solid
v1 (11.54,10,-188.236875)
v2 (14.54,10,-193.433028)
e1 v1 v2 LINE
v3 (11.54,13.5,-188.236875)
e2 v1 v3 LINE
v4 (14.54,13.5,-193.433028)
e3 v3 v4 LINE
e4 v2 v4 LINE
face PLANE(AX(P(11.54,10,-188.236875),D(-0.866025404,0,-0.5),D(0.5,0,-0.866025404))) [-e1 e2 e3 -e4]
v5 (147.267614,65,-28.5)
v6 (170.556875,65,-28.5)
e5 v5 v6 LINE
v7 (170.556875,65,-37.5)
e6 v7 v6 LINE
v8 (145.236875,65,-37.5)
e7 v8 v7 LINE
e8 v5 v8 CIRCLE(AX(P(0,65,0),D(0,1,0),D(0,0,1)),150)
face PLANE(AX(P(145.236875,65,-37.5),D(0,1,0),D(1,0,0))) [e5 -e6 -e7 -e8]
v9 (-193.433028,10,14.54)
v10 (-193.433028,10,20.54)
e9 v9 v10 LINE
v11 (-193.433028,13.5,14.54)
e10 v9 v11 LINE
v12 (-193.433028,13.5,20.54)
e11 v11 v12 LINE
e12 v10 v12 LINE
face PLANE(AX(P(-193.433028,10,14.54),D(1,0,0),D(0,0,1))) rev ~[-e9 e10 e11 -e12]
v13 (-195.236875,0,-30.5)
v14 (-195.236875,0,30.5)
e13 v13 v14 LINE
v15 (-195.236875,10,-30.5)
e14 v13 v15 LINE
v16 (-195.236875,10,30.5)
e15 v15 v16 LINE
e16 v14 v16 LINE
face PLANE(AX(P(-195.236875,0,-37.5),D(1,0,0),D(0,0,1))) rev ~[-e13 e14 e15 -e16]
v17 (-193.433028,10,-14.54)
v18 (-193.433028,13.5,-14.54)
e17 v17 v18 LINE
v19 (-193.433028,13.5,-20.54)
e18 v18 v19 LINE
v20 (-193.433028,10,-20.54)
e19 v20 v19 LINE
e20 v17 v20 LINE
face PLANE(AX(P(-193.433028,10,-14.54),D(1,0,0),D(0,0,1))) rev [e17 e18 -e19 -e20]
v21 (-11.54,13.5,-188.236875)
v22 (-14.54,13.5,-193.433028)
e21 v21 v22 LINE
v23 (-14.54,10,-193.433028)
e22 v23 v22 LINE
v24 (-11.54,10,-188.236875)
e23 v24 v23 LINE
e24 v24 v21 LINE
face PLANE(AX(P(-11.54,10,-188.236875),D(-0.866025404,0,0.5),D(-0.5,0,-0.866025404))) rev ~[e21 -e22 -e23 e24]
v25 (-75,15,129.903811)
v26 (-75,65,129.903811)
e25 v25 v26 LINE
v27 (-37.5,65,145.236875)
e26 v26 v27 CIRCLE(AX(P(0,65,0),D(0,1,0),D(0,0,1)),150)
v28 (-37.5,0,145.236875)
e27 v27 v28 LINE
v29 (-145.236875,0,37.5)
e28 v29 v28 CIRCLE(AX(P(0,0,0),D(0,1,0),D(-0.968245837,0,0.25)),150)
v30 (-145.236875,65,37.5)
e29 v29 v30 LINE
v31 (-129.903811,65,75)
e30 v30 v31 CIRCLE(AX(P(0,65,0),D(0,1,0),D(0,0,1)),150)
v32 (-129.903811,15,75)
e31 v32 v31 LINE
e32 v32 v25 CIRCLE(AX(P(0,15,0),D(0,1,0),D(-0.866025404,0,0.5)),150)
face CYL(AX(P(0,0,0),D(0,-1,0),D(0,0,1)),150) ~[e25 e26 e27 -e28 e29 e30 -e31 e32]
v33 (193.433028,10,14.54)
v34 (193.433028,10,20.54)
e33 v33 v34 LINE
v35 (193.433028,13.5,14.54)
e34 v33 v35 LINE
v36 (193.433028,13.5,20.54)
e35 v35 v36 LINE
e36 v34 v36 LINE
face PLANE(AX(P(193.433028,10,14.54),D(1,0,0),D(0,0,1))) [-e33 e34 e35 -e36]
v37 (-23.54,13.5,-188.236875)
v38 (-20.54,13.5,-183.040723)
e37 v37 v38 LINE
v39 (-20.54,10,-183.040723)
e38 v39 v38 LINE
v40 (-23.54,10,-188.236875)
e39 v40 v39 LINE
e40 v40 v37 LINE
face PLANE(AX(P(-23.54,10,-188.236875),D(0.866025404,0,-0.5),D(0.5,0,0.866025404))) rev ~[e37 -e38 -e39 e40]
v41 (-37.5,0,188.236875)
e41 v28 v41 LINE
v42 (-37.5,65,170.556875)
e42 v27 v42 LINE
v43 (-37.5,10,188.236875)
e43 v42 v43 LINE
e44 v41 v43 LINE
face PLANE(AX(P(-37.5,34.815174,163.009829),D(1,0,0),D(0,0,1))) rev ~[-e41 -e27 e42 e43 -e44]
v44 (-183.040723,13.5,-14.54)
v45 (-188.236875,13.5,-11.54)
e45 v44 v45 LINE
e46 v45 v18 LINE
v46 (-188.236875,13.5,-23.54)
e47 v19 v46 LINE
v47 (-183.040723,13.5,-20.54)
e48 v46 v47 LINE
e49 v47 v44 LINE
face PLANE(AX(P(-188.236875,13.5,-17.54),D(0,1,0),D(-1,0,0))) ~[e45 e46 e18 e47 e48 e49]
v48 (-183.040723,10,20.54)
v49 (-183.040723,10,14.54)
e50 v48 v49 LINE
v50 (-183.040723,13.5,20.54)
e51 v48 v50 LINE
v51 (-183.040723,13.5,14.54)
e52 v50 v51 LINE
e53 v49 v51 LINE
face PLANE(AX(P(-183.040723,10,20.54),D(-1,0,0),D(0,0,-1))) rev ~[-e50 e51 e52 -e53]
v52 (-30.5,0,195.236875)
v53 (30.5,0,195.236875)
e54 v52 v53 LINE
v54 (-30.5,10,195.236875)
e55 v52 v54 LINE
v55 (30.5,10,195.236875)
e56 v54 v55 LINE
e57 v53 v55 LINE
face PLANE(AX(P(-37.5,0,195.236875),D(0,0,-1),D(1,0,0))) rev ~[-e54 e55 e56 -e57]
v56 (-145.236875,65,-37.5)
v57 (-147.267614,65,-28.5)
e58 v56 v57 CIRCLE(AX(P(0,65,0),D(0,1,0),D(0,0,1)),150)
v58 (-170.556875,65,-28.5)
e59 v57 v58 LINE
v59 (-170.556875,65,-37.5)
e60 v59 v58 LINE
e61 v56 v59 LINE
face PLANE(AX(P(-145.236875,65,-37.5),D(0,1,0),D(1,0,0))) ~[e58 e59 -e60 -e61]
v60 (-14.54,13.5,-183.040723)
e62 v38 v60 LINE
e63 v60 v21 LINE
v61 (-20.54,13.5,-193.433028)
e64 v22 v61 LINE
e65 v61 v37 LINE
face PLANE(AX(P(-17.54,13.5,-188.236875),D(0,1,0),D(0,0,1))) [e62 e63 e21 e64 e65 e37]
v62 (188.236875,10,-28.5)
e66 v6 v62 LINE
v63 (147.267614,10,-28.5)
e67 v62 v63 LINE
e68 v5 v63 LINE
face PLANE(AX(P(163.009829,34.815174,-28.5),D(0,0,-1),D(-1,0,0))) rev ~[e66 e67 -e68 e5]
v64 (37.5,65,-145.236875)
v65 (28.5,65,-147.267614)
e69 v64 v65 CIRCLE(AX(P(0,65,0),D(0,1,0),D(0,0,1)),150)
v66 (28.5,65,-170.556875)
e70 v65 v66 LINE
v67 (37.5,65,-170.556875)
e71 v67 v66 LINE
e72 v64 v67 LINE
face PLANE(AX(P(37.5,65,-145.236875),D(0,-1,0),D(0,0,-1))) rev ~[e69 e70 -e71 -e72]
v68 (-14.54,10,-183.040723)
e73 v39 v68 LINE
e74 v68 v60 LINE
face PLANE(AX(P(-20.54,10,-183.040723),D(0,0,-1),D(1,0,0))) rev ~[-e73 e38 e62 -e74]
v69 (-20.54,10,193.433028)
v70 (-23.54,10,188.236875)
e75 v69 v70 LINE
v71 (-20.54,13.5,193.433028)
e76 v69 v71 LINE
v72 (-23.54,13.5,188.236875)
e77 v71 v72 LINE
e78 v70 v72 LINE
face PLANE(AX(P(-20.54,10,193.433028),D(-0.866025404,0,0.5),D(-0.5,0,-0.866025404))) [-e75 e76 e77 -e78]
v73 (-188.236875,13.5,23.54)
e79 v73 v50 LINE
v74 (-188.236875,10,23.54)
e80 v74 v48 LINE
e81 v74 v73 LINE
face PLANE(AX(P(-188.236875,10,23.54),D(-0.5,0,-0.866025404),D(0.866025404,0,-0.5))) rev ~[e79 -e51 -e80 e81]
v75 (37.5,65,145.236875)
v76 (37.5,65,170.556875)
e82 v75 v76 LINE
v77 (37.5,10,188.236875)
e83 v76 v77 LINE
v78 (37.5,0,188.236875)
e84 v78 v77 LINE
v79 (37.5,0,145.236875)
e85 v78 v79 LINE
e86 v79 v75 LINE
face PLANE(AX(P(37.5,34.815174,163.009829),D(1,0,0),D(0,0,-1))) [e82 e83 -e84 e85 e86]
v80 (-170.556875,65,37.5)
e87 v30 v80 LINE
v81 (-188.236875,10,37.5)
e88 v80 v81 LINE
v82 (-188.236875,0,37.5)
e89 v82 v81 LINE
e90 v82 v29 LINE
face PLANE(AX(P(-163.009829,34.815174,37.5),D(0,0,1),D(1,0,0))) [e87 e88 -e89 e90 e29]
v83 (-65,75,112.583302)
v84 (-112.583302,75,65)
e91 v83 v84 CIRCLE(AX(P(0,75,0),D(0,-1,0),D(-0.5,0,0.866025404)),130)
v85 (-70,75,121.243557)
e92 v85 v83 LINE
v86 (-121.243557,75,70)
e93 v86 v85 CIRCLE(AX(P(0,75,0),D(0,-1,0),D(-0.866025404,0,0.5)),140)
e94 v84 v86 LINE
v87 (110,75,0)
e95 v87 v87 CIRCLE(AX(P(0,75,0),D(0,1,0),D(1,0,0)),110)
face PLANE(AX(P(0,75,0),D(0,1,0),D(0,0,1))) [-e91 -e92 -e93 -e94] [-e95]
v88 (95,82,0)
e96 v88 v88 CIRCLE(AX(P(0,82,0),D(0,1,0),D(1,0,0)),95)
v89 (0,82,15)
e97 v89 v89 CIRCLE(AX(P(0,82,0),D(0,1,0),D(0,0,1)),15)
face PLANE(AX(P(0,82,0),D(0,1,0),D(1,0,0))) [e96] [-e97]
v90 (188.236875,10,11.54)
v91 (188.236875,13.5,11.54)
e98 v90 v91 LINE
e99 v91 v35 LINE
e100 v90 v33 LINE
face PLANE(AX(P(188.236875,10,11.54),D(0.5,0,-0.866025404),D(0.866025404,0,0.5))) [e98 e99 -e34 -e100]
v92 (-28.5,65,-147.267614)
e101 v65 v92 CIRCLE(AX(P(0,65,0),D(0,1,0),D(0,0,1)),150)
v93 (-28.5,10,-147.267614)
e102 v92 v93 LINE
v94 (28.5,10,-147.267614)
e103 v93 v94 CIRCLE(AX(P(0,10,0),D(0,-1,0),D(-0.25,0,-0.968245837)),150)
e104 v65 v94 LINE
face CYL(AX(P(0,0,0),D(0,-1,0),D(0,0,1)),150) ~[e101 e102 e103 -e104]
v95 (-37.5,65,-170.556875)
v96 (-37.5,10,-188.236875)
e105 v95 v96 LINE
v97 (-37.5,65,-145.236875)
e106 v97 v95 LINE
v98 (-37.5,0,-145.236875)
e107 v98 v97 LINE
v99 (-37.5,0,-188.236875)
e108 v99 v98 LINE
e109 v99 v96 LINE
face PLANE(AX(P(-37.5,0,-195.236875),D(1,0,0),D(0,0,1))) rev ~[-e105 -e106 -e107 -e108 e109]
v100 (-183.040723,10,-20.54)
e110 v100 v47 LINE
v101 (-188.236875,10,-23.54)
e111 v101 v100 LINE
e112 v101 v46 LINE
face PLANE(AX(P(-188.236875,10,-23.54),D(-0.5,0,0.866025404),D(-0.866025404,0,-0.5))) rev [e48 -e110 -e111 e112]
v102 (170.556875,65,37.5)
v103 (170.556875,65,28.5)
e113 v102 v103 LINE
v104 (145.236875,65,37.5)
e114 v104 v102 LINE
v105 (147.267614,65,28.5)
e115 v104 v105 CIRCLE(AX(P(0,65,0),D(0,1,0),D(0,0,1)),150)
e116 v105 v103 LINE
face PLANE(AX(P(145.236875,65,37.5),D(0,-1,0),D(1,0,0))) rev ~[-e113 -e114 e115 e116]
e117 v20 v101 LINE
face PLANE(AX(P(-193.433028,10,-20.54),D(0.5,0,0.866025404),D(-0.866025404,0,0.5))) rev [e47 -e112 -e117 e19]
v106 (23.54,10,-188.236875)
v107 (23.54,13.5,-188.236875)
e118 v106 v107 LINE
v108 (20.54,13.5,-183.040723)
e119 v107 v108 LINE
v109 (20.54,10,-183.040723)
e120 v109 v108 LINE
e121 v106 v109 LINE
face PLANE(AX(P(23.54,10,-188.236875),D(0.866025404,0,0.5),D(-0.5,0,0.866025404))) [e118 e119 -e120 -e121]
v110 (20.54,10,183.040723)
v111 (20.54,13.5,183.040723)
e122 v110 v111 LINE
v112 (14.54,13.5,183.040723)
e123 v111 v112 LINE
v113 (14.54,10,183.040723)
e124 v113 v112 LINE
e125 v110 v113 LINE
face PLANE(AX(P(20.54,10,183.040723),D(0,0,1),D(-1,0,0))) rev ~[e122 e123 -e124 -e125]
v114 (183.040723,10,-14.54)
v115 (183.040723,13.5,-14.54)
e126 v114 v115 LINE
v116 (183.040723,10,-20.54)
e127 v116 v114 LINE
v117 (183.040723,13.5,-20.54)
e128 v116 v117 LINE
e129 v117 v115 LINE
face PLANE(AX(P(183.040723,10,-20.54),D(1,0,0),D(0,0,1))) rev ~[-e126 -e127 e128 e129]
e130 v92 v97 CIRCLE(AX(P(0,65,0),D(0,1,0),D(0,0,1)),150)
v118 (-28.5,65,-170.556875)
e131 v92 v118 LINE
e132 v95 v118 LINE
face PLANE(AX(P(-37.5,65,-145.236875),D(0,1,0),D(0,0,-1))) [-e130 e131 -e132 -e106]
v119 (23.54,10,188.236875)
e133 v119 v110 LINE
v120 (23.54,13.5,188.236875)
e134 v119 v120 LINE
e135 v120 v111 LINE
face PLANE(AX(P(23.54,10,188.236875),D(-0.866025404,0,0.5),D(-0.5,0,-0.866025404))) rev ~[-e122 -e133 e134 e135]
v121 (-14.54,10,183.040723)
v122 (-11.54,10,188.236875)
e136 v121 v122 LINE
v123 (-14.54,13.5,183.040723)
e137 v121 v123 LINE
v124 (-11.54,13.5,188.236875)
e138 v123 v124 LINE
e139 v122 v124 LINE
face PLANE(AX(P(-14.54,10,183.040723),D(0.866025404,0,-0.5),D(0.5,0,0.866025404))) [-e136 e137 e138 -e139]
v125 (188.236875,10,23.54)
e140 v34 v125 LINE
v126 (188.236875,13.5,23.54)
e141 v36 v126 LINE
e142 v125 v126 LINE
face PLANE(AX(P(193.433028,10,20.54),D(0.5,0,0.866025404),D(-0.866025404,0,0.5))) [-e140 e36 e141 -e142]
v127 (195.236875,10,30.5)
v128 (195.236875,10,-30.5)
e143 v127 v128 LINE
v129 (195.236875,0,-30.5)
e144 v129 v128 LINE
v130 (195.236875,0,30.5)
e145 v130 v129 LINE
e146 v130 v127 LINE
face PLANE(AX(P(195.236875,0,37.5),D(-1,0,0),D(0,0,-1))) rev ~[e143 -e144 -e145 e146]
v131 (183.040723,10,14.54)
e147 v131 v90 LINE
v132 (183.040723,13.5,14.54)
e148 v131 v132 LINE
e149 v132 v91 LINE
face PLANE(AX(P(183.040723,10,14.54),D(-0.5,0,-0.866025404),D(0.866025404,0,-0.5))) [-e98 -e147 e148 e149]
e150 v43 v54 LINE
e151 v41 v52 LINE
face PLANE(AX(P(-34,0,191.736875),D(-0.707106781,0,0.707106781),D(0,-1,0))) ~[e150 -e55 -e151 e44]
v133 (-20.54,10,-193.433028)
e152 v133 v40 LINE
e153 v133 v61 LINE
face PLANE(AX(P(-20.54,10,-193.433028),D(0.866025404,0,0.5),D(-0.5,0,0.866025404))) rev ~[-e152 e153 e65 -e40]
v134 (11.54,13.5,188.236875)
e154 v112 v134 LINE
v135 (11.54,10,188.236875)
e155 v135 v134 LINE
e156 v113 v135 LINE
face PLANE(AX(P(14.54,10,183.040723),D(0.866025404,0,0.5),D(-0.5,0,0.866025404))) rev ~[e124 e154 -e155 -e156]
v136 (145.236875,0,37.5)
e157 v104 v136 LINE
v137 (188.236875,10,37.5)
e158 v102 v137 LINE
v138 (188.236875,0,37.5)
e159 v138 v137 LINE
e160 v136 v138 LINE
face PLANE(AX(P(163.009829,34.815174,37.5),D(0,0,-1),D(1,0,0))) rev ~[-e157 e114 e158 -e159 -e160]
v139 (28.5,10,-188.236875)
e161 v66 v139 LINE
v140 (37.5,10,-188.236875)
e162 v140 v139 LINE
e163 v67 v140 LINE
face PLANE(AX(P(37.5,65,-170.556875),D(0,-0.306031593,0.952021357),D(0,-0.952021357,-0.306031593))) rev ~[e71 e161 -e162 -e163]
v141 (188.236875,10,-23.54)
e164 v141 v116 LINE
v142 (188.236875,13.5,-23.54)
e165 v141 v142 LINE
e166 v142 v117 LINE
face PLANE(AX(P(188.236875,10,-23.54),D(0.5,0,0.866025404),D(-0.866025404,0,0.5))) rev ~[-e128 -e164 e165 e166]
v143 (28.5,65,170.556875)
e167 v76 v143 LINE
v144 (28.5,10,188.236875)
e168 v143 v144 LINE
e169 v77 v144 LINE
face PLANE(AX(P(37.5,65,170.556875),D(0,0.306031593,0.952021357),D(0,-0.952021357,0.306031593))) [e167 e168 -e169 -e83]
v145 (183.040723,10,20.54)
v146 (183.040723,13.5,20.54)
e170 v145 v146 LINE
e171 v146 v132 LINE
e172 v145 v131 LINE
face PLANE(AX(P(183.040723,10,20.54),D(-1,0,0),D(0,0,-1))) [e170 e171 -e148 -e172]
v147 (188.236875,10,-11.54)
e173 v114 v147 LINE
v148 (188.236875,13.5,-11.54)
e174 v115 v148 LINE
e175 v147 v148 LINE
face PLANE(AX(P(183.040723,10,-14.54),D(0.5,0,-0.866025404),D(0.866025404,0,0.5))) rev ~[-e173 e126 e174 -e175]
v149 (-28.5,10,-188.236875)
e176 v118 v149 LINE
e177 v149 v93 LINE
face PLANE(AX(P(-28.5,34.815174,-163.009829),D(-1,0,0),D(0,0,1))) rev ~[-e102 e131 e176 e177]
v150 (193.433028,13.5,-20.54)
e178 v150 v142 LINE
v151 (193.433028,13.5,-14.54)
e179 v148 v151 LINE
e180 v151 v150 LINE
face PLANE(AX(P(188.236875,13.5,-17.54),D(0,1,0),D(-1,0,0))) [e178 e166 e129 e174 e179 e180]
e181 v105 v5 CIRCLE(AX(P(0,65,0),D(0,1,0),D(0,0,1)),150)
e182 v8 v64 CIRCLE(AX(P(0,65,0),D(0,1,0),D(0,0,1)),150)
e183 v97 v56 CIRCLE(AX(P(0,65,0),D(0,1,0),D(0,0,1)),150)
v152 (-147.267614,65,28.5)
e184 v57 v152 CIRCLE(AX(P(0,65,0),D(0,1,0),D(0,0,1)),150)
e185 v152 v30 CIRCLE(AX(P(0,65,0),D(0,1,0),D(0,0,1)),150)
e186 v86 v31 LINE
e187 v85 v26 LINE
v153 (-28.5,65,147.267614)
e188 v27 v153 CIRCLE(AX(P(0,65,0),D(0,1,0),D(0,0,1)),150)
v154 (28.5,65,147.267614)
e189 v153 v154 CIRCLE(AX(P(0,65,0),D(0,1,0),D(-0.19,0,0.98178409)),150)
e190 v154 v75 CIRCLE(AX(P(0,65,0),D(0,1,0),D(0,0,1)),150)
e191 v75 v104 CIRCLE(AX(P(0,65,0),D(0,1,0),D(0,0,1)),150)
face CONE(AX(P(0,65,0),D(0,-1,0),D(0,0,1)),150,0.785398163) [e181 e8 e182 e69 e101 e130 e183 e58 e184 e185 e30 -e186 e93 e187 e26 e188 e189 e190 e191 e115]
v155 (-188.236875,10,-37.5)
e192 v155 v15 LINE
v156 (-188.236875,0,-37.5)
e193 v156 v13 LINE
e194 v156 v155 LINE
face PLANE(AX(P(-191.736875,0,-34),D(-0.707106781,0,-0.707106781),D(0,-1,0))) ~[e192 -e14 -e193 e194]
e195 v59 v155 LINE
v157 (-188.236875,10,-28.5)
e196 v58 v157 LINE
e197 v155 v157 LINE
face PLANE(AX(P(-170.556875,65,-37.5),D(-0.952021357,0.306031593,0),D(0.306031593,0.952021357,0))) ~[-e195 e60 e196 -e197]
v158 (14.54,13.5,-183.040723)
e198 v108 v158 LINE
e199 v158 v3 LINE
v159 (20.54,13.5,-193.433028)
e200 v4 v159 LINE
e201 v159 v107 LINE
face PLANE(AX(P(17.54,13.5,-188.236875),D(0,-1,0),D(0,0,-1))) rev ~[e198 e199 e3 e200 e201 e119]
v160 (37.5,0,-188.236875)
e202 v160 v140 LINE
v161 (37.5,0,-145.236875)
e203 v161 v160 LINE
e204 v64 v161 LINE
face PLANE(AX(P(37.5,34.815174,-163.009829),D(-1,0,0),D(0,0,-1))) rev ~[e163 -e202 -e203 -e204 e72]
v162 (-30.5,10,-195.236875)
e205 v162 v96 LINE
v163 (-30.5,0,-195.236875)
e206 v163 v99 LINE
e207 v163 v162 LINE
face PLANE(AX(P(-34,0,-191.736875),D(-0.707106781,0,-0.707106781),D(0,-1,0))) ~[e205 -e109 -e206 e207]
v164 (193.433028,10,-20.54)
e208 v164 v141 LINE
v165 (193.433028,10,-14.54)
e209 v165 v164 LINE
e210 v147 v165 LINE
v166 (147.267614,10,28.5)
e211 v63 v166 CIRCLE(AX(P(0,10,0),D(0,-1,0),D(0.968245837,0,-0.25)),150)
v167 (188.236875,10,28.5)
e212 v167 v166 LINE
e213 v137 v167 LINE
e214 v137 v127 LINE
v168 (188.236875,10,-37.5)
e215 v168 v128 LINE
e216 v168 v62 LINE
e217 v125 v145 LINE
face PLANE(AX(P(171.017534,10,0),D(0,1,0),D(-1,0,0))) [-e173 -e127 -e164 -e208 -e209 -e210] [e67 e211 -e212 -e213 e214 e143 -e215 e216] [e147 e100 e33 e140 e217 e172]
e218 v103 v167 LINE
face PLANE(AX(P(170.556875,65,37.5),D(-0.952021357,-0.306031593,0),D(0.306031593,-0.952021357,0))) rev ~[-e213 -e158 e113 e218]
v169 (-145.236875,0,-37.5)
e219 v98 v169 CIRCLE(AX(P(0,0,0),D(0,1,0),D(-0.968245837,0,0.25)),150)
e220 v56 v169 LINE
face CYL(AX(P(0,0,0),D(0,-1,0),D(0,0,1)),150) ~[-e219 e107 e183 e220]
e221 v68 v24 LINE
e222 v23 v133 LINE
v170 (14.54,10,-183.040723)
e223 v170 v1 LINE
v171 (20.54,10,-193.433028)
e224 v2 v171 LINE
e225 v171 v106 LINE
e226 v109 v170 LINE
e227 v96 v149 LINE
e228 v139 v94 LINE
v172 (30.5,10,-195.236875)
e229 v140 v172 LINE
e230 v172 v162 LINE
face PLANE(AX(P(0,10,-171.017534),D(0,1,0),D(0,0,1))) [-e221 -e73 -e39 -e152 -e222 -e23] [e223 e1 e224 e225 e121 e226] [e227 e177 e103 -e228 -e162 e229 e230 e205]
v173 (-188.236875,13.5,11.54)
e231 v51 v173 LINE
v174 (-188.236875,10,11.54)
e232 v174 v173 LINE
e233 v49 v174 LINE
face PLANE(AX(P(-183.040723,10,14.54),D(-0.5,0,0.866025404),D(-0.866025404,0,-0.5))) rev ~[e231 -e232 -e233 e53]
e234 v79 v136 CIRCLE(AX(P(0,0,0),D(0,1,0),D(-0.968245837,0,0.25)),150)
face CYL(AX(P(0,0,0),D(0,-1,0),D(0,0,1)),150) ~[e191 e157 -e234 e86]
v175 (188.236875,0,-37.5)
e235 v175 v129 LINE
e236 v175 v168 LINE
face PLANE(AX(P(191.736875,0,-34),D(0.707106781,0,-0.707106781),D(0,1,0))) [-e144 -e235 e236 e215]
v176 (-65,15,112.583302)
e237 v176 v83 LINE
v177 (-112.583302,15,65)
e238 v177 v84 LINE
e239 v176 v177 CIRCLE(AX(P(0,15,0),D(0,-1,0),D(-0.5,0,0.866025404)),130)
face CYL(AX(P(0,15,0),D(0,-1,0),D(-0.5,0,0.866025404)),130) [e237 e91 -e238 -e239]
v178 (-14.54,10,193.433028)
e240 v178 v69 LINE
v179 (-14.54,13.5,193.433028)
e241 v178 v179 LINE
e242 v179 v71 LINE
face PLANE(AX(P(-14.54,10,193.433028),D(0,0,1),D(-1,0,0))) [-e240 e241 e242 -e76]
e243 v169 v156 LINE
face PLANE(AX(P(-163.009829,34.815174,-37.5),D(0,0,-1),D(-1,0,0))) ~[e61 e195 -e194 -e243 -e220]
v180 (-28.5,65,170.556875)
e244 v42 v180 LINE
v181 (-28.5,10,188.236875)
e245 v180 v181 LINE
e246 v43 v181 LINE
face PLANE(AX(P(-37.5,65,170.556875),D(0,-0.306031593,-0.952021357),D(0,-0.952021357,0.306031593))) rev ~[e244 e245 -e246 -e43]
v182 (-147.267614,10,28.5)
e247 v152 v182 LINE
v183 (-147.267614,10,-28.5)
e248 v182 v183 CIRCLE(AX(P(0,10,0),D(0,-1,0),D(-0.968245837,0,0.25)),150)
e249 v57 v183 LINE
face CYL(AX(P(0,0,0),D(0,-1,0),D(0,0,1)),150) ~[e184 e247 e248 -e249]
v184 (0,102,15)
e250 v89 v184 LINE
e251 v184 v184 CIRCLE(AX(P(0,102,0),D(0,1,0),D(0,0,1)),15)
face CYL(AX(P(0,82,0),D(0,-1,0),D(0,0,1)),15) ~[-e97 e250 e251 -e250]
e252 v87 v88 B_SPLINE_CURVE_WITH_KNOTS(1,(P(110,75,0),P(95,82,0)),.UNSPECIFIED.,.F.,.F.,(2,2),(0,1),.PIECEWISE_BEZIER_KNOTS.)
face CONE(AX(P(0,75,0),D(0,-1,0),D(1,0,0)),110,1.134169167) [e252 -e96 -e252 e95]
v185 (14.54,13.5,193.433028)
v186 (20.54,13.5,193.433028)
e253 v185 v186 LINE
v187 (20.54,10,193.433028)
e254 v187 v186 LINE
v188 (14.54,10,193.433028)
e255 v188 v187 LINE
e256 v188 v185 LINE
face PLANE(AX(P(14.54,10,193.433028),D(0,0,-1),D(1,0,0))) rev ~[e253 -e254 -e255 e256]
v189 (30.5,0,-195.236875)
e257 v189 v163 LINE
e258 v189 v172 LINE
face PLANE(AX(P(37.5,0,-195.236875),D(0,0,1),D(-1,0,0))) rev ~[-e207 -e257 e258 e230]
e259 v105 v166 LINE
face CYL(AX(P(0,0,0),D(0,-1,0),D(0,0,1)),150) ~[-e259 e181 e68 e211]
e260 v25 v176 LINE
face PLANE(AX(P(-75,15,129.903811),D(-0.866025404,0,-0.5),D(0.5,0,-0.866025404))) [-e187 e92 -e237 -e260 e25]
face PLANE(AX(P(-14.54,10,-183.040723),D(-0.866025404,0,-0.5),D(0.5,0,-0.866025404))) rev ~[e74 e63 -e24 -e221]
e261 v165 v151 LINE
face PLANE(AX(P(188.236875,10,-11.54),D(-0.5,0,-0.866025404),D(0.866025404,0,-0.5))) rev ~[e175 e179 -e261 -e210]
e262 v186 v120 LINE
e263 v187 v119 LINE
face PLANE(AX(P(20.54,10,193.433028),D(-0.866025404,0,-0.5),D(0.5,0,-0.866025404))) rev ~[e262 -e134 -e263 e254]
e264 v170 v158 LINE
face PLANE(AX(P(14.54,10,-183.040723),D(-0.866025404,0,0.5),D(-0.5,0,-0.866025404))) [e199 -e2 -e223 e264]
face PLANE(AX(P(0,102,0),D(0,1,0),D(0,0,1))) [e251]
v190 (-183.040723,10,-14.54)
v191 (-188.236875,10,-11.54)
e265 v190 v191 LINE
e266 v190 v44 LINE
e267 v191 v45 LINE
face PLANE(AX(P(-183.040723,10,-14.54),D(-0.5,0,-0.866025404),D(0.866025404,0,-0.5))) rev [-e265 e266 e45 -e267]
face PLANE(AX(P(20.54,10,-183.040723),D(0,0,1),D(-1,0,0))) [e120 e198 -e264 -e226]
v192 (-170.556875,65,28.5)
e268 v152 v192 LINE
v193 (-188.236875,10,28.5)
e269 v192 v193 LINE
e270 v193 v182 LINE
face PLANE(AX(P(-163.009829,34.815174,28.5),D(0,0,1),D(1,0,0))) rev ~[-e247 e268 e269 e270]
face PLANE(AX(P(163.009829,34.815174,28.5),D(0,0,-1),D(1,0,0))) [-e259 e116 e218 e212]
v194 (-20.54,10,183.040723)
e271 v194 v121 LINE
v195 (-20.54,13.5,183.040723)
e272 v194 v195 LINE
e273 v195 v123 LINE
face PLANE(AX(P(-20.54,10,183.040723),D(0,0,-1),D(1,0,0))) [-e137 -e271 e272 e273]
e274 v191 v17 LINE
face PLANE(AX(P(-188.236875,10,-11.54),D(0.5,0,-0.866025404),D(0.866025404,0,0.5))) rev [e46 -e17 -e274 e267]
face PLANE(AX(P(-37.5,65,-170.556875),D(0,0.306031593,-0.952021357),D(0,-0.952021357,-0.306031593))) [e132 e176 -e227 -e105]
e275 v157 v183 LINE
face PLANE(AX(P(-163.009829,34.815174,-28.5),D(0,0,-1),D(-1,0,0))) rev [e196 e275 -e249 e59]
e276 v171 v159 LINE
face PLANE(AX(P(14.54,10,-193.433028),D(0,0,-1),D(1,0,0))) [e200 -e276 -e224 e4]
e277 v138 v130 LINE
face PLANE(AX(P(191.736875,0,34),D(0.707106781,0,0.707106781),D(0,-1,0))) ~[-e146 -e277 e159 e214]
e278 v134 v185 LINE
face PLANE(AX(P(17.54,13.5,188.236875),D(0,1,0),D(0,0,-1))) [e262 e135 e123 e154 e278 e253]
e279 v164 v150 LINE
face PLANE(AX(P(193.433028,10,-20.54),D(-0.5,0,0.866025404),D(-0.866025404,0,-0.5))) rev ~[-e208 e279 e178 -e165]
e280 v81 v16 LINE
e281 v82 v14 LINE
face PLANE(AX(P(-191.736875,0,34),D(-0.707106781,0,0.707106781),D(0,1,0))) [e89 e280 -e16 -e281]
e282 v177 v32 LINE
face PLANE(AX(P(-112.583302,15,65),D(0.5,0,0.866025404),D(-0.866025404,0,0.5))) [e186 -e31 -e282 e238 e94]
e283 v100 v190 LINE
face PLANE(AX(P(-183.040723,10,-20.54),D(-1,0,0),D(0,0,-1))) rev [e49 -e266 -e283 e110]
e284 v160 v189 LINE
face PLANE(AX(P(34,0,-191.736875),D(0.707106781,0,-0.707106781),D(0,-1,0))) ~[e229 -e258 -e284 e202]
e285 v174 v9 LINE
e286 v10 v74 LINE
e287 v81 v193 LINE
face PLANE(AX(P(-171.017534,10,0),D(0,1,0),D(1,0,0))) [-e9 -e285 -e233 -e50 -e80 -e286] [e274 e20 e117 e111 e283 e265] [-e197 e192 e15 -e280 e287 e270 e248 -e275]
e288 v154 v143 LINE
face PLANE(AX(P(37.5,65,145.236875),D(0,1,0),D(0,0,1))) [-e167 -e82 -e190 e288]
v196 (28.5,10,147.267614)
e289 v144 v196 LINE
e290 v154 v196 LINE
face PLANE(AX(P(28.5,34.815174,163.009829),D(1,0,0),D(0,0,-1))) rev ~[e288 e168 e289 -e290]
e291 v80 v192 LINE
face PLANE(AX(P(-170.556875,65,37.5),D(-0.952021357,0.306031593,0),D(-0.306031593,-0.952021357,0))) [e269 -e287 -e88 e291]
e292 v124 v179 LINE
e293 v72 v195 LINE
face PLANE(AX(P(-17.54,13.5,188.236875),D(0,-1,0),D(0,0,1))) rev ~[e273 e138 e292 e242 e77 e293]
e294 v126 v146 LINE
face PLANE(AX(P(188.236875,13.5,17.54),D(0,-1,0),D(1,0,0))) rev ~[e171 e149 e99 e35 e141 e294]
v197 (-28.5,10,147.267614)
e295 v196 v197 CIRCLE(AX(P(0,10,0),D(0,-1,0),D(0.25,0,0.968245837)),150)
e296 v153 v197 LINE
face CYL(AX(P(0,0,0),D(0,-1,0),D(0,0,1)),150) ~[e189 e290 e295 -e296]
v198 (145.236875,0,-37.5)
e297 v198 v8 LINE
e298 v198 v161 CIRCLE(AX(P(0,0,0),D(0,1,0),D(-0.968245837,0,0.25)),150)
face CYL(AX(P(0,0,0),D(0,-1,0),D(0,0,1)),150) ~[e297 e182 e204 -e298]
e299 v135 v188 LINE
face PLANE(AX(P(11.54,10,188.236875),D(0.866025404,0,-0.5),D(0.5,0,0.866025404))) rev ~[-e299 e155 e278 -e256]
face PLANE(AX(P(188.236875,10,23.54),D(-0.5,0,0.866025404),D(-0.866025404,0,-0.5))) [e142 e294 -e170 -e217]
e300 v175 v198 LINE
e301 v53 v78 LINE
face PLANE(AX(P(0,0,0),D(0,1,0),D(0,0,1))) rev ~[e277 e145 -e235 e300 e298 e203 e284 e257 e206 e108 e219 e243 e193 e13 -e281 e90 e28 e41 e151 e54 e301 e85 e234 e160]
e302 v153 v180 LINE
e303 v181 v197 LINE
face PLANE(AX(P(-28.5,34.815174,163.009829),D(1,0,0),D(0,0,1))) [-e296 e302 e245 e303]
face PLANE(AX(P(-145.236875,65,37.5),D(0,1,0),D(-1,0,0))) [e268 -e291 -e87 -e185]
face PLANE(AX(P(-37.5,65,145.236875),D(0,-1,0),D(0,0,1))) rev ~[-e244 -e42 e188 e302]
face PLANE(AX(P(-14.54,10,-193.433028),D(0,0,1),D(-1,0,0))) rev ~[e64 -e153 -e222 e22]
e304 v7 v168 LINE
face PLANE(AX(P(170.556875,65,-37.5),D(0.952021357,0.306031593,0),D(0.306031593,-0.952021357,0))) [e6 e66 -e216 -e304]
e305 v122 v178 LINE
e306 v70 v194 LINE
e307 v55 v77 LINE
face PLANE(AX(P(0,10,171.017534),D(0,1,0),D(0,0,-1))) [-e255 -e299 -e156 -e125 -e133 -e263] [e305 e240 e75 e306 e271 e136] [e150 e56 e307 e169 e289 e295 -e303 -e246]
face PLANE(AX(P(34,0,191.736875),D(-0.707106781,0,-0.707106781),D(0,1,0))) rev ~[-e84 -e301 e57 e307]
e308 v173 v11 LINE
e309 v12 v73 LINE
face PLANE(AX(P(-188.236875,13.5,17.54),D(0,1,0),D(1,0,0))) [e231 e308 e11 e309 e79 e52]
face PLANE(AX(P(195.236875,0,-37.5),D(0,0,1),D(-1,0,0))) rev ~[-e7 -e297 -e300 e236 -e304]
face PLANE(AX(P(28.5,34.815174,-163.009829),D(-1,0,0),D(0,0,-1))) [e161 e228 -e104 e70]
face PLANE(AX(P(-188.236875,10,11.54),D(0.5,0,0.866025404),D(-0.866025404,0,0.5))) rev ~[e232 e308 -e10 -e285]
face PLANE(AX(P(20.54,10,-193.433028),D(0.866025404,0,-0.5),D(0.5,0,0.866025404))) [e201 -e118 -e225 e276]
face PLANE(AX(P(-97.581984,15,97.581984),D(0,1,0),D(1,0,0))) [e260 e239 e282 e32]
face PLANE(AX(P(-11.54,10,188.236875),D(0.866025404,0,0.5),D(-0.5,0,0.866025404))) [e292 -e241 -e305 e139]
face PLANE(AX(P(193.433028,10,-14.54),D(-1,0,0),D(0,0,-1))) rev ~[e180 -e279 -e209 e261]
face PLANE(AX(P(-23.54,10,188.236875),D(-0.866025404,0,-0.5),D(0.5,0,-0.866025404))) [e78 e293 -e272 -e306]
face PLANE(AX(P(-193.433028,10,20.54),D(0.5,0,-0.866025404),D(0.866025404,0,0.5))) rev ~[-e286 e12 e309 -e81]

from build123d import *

# Parameters (mm, degrees)
SKETCH1_R                    = 150
BOSS_EXTRUDE1_DEPTH          = 75
CHAMFER1_SIZE                = 10
BOSS_EXTRUDE2_DEPTH          = 10
CHAMFER2_SIZE                = 7
BOSS_EXTRUDE3_DEPTH          = 9
BOSS_EXTRUDE4_DEPTH          = 3.5
CIRPATTERN1_COUNT            = 4
CIRPATTERN1_COPY_1_DEPTH     = 9
CIRPATTERN1_COPY_2_DEPTH     = 9
CIRPATTERN1_COPY_3_DEPTH     = 9
CIRPATTERN1_COPY_4_DEPTH     = 3.5
CIRPATTERN1_COPY_5_DEPTH     = 3.5
CIRPATTERN1_COPY_6_DEPTH     = 3.5
CHAMFER2_OF_CIRPATTERN1_SIZE = 7
CUT_EXTRUDE1_START           = -60
CUT_EXTRUDE1_DEPTH           = 60
SKETCH7_R                    = 110
SKETCH8_R                    = 95
SKETCH9_R                    = 15
BOSS_EXTRUDE5_DEPTH          = 20


with BuildPart() as part:
    # Sketch1 → Boss-Extrude1 (new body)
    with BuildSketch(Plane(origin=(0, 0, 0), x_dir=(1, 0, 0), z_dir=(0, 1, 0))):
        with Locations(Location((0, 0, 0), (0, 0, 270))):
            Circle(SKETCH1_R)
    extrude(amount=BOSS_EXTRUDE1_DEPTH)

    # Chamfer1
    chamfer1_edges = [part.edges().sort_by_distance(p)[0] for p in [
        (0, 75, -150),
    ]]
    chamfer(chamfer1_edges, length=CHAMFER1_SIZE)

    # Sketch2 → Boss-Extrude2 (add)
    with BuildSketch(Plane(origin=(0, 0, 0), x_dir=(-1, 0, 0), z_dir=(0, -1, 0))):
        with BuildLine():
            Line((145.236875483, 37.5), (195.236875483, 37.5))
            Line((195.236875483, 37.5), (195.236875483, -37.5))
            Line((195.236875483, -37.5), (145.236875483, -37.5))
            ThreePointArc((145.236875483, -37.5), (150, 0), (145.236875483, 37.5))
        make_face()
    boss_extrude2 = extrude(amount=-BOSS_EXTRUDE2_DEPTH)

    # Chamfer2
    chamfer2_edges = [part.edges().sort_by_distance(p)[0] for p in [
        (-195.236875483, 5, -37.5),
        (-195.236875483, 5, 37.5),
    ]]
    chamfer(chamfer2_edges, length=CHAMFER2_SIZE)

    # Sketch3 → Boss-Extrude3 (add)
    with BuildSketch(Plane.XY.offset(37.5)):
        Polygon((-145.236875483, 10), (-145.236875483, 65), (-170.556875483, 65), (-188.236875483, 10), align=None)
    boss_extrude3 = extrude(amount=-BOSS_EXTRUDE3_DEPTH)

    # Sketch4 → Boss-Extrude4 (add)
    with BuildSketch(Plane(origin=(0, 10, 0), x_dir=(1, 0, 0), z_dir=(0, 1, 0))):
        Polygon((-188.236875483, -23.54), (-183.04072306, -20.54), (-183.04072306, -14.54), (-188.236875483, -11.54), (-193.433027905, -14.54), (-193.433027905, -20.54), align=None)
    boss_extrude4 = extrude(amount=BOSS_EXTRUDE4_DEPTH)

    # Mirror1: Boss-Extrude3, Boss-Extrude4 across plane
    add(boss_extrude3.mirror(Plane.XY))
    add(boss_extrude4.mirror(Plane.XY))

    # CirPattern1: Boss-Extrude2, Boss-Extrude3, Boss-Extrude4 ×4 about axis
    cirpattern1_axis = Axis((0, 0, 0), (0, 1, 0))
    add([boss_extrude2.rotate(cirpattern1_axis, i * 360 / CIRPATTERN1_COUNT) for i in range(1, CIRPATTERN1_COUNT)])
    add([boss_extrude3.rotate(cirpattern1_axis, i * 360 / CIRPATTERN1_COUNT) for i in range(1, CIRPATTERN1_COUNT)])
    add([boss_extrude4.rotate(cirpattern1_axis, i * 360 / CIRPATTERN1_COUNT) for i in range(1, CIRPATTERN1_COUNT)])

    # CirPattern1 copy 1 sketch → CirPattern1 copy 1 (add)
    with BuildSketch(Plane(origin=(-37.5, 0, 0), x_dir=(0, 0, -1), z_dir=(-1, 0, 0))):
        Polygon((-145.236875483, -10), (-145.236875483, -65), (-170.556875483, -65), (-188.236875483, -10), align=None)
    extrude(amount=-CIRPATTERN1_COPY_1_DEPTH)

    # CirPattern1 copy 2 sketch → CirPattern1 copy 2 (add)
    with BuildSketch(Plane(origin=(0, 0, 37.5), x_dir=(-1, 0, 0), z_dir=(0, 0, 1))):
        Polygon((-145.236875483, -10), (-145.236875483, -65), (-170.556875483, -65), (-188.236875483, -10), align=None)
    extrude(amount=-CIRPATTERN1_COPY_2_DEPTH)

    # CirPattern1 copy 3 sketch → CirPattern1 copy 3 (add)
    with BuildSketch(Plane(origin=(37.5, 0, 0), x_dir=(0, 0, 1), z_dir=(1, 0, 0))):
        Polygon((-145.236875483, -10), (-145.236875483, -65), (-170.556875483, -65), (-188.236875483, -10), align=None)
    extrude(amount=-CIRPATTERN1_COPY_3_DEPTH)

    # CirPattern1 copy 4 sketch → CirPattern1 copy 4 (add)
    with BuildSketch(Plane(origin=(0, 10, 0), x_dir=(0, 0, -1), z_dir=(0, 1, 0))):
        Polygon((-188.236875483, 23.54), (-183.04072306, 20.54), (-183.04072306, 14.54), (-188.236875483, 11.54), (-193.433027905, 14.54), (-193.433027905, 20.54), align=None)
    extrude(amount=CIRPATTERN1_COPY_4_DEPTH)

    # CirPattern1 copy 5 sketch → CirPattern1 copy 5 (add)
    with BuildSketch(Plane(origin=(0, 10, 0), x_dir=(-1, 0, 0), z_dir=(0, 1, 0))):
        Polygon((-188.236875483, 23.54), (-183.04072306, 20.54), (-183.04072306, 14.54), (-188.236875483, 11.54), (-193.433027905, 14.54), (-193.433027905, 20.54), align=None)
    extrude(amount=CIRPATTERN1_COPY_5_DEPTH)

    # CirPattern1 copy 6 sketch → CirPattern1 copy 6 (add)
    with BuildSketch(Plane.ZX.offset(10)):
        Polygon((-188.236875483, 23.54), (-183.04072306, 20.54), (-183.04072306, 14.54), (-188.236875483, 11.54), (-193.433027905, 14.54), (-193.433027905, 20.54), align=None)
    extrude(amount=CIRPATTERN1_COPY_6_DEPTH)

    # Chamfer2 of CirPattern1
    chamfer2_of_cirpattern1_edges = [part.edges().sort_by_distance(p)[0] for p in [
        (-37.5, 5, 195.236875483),
        (37.5, 5, 195.236875483),
        (195.236875483, 5, 37.5),
        (195.236875483, 5, -37.5),
        (37.5, 5, -195.236875483),
        (-37.5, 5, -195.236875483),
    ]]
    chamfer(chamfer2_of_cirpattern1_edges, length=CHAMFER2_OF_CIRPATTERN1_SIZE)

    # Sketch6 → Cut-Extrude1 (cut)
    with BuildSketch(Plane(origin=(0, 75, 0), x_dir=(1, 0, 0), z_dir=(0, 1, 0)).offset(CUT_EXTRUDE1_START)):
        with BuildLine():
            Line((-112.583302492, -65), (-129.903810568, -75))
            ThreePointArc((-129.903810568, -75), (-106.066017178, -106.066017178), (-75, -129.903810568))
            Line((-75, -129.903810568), (-65, -112.583302492))
            ThreePointArc((-65, -112.583302492), (-91.923881554, -91.923881554), (-112.583302492, -65))
        make_face()
    extrude(amount=CUT_EXTRUDE1_DEPTH, mode=Mode.SUBTRACT)

    # Sketch7 → Loft1 section 0
    with BuildSketch(Plane(origin=(0, 75, 0), x_dir=(1, 0, 0), z_dir=(0, 1, 0))):
        Circle(SKETCH7_R)
    # Sketch8 → Loft1 section 1
    with BuildSketch(Plane(origin=(0, 82, 0), x_dir=(1, 0, 0), z_dir=(0, 1, 0))):
        Circle(SKETCH8_R)
    loft()

    # Sketch9 → Boss-Extrude5 (add)
    with BuildSketch(Plane(origin=(0, 82, 0), x_dir=(1, 0, 0), z_dir=(0, 1, 0))):
        with Locations(Location((0, 0, 0), (0, 0, 270))):
            Circle(SKETCH9_R)
    extrude(amount=BOSS_EXTRUDE5_DEPTH)


solid = part.part
